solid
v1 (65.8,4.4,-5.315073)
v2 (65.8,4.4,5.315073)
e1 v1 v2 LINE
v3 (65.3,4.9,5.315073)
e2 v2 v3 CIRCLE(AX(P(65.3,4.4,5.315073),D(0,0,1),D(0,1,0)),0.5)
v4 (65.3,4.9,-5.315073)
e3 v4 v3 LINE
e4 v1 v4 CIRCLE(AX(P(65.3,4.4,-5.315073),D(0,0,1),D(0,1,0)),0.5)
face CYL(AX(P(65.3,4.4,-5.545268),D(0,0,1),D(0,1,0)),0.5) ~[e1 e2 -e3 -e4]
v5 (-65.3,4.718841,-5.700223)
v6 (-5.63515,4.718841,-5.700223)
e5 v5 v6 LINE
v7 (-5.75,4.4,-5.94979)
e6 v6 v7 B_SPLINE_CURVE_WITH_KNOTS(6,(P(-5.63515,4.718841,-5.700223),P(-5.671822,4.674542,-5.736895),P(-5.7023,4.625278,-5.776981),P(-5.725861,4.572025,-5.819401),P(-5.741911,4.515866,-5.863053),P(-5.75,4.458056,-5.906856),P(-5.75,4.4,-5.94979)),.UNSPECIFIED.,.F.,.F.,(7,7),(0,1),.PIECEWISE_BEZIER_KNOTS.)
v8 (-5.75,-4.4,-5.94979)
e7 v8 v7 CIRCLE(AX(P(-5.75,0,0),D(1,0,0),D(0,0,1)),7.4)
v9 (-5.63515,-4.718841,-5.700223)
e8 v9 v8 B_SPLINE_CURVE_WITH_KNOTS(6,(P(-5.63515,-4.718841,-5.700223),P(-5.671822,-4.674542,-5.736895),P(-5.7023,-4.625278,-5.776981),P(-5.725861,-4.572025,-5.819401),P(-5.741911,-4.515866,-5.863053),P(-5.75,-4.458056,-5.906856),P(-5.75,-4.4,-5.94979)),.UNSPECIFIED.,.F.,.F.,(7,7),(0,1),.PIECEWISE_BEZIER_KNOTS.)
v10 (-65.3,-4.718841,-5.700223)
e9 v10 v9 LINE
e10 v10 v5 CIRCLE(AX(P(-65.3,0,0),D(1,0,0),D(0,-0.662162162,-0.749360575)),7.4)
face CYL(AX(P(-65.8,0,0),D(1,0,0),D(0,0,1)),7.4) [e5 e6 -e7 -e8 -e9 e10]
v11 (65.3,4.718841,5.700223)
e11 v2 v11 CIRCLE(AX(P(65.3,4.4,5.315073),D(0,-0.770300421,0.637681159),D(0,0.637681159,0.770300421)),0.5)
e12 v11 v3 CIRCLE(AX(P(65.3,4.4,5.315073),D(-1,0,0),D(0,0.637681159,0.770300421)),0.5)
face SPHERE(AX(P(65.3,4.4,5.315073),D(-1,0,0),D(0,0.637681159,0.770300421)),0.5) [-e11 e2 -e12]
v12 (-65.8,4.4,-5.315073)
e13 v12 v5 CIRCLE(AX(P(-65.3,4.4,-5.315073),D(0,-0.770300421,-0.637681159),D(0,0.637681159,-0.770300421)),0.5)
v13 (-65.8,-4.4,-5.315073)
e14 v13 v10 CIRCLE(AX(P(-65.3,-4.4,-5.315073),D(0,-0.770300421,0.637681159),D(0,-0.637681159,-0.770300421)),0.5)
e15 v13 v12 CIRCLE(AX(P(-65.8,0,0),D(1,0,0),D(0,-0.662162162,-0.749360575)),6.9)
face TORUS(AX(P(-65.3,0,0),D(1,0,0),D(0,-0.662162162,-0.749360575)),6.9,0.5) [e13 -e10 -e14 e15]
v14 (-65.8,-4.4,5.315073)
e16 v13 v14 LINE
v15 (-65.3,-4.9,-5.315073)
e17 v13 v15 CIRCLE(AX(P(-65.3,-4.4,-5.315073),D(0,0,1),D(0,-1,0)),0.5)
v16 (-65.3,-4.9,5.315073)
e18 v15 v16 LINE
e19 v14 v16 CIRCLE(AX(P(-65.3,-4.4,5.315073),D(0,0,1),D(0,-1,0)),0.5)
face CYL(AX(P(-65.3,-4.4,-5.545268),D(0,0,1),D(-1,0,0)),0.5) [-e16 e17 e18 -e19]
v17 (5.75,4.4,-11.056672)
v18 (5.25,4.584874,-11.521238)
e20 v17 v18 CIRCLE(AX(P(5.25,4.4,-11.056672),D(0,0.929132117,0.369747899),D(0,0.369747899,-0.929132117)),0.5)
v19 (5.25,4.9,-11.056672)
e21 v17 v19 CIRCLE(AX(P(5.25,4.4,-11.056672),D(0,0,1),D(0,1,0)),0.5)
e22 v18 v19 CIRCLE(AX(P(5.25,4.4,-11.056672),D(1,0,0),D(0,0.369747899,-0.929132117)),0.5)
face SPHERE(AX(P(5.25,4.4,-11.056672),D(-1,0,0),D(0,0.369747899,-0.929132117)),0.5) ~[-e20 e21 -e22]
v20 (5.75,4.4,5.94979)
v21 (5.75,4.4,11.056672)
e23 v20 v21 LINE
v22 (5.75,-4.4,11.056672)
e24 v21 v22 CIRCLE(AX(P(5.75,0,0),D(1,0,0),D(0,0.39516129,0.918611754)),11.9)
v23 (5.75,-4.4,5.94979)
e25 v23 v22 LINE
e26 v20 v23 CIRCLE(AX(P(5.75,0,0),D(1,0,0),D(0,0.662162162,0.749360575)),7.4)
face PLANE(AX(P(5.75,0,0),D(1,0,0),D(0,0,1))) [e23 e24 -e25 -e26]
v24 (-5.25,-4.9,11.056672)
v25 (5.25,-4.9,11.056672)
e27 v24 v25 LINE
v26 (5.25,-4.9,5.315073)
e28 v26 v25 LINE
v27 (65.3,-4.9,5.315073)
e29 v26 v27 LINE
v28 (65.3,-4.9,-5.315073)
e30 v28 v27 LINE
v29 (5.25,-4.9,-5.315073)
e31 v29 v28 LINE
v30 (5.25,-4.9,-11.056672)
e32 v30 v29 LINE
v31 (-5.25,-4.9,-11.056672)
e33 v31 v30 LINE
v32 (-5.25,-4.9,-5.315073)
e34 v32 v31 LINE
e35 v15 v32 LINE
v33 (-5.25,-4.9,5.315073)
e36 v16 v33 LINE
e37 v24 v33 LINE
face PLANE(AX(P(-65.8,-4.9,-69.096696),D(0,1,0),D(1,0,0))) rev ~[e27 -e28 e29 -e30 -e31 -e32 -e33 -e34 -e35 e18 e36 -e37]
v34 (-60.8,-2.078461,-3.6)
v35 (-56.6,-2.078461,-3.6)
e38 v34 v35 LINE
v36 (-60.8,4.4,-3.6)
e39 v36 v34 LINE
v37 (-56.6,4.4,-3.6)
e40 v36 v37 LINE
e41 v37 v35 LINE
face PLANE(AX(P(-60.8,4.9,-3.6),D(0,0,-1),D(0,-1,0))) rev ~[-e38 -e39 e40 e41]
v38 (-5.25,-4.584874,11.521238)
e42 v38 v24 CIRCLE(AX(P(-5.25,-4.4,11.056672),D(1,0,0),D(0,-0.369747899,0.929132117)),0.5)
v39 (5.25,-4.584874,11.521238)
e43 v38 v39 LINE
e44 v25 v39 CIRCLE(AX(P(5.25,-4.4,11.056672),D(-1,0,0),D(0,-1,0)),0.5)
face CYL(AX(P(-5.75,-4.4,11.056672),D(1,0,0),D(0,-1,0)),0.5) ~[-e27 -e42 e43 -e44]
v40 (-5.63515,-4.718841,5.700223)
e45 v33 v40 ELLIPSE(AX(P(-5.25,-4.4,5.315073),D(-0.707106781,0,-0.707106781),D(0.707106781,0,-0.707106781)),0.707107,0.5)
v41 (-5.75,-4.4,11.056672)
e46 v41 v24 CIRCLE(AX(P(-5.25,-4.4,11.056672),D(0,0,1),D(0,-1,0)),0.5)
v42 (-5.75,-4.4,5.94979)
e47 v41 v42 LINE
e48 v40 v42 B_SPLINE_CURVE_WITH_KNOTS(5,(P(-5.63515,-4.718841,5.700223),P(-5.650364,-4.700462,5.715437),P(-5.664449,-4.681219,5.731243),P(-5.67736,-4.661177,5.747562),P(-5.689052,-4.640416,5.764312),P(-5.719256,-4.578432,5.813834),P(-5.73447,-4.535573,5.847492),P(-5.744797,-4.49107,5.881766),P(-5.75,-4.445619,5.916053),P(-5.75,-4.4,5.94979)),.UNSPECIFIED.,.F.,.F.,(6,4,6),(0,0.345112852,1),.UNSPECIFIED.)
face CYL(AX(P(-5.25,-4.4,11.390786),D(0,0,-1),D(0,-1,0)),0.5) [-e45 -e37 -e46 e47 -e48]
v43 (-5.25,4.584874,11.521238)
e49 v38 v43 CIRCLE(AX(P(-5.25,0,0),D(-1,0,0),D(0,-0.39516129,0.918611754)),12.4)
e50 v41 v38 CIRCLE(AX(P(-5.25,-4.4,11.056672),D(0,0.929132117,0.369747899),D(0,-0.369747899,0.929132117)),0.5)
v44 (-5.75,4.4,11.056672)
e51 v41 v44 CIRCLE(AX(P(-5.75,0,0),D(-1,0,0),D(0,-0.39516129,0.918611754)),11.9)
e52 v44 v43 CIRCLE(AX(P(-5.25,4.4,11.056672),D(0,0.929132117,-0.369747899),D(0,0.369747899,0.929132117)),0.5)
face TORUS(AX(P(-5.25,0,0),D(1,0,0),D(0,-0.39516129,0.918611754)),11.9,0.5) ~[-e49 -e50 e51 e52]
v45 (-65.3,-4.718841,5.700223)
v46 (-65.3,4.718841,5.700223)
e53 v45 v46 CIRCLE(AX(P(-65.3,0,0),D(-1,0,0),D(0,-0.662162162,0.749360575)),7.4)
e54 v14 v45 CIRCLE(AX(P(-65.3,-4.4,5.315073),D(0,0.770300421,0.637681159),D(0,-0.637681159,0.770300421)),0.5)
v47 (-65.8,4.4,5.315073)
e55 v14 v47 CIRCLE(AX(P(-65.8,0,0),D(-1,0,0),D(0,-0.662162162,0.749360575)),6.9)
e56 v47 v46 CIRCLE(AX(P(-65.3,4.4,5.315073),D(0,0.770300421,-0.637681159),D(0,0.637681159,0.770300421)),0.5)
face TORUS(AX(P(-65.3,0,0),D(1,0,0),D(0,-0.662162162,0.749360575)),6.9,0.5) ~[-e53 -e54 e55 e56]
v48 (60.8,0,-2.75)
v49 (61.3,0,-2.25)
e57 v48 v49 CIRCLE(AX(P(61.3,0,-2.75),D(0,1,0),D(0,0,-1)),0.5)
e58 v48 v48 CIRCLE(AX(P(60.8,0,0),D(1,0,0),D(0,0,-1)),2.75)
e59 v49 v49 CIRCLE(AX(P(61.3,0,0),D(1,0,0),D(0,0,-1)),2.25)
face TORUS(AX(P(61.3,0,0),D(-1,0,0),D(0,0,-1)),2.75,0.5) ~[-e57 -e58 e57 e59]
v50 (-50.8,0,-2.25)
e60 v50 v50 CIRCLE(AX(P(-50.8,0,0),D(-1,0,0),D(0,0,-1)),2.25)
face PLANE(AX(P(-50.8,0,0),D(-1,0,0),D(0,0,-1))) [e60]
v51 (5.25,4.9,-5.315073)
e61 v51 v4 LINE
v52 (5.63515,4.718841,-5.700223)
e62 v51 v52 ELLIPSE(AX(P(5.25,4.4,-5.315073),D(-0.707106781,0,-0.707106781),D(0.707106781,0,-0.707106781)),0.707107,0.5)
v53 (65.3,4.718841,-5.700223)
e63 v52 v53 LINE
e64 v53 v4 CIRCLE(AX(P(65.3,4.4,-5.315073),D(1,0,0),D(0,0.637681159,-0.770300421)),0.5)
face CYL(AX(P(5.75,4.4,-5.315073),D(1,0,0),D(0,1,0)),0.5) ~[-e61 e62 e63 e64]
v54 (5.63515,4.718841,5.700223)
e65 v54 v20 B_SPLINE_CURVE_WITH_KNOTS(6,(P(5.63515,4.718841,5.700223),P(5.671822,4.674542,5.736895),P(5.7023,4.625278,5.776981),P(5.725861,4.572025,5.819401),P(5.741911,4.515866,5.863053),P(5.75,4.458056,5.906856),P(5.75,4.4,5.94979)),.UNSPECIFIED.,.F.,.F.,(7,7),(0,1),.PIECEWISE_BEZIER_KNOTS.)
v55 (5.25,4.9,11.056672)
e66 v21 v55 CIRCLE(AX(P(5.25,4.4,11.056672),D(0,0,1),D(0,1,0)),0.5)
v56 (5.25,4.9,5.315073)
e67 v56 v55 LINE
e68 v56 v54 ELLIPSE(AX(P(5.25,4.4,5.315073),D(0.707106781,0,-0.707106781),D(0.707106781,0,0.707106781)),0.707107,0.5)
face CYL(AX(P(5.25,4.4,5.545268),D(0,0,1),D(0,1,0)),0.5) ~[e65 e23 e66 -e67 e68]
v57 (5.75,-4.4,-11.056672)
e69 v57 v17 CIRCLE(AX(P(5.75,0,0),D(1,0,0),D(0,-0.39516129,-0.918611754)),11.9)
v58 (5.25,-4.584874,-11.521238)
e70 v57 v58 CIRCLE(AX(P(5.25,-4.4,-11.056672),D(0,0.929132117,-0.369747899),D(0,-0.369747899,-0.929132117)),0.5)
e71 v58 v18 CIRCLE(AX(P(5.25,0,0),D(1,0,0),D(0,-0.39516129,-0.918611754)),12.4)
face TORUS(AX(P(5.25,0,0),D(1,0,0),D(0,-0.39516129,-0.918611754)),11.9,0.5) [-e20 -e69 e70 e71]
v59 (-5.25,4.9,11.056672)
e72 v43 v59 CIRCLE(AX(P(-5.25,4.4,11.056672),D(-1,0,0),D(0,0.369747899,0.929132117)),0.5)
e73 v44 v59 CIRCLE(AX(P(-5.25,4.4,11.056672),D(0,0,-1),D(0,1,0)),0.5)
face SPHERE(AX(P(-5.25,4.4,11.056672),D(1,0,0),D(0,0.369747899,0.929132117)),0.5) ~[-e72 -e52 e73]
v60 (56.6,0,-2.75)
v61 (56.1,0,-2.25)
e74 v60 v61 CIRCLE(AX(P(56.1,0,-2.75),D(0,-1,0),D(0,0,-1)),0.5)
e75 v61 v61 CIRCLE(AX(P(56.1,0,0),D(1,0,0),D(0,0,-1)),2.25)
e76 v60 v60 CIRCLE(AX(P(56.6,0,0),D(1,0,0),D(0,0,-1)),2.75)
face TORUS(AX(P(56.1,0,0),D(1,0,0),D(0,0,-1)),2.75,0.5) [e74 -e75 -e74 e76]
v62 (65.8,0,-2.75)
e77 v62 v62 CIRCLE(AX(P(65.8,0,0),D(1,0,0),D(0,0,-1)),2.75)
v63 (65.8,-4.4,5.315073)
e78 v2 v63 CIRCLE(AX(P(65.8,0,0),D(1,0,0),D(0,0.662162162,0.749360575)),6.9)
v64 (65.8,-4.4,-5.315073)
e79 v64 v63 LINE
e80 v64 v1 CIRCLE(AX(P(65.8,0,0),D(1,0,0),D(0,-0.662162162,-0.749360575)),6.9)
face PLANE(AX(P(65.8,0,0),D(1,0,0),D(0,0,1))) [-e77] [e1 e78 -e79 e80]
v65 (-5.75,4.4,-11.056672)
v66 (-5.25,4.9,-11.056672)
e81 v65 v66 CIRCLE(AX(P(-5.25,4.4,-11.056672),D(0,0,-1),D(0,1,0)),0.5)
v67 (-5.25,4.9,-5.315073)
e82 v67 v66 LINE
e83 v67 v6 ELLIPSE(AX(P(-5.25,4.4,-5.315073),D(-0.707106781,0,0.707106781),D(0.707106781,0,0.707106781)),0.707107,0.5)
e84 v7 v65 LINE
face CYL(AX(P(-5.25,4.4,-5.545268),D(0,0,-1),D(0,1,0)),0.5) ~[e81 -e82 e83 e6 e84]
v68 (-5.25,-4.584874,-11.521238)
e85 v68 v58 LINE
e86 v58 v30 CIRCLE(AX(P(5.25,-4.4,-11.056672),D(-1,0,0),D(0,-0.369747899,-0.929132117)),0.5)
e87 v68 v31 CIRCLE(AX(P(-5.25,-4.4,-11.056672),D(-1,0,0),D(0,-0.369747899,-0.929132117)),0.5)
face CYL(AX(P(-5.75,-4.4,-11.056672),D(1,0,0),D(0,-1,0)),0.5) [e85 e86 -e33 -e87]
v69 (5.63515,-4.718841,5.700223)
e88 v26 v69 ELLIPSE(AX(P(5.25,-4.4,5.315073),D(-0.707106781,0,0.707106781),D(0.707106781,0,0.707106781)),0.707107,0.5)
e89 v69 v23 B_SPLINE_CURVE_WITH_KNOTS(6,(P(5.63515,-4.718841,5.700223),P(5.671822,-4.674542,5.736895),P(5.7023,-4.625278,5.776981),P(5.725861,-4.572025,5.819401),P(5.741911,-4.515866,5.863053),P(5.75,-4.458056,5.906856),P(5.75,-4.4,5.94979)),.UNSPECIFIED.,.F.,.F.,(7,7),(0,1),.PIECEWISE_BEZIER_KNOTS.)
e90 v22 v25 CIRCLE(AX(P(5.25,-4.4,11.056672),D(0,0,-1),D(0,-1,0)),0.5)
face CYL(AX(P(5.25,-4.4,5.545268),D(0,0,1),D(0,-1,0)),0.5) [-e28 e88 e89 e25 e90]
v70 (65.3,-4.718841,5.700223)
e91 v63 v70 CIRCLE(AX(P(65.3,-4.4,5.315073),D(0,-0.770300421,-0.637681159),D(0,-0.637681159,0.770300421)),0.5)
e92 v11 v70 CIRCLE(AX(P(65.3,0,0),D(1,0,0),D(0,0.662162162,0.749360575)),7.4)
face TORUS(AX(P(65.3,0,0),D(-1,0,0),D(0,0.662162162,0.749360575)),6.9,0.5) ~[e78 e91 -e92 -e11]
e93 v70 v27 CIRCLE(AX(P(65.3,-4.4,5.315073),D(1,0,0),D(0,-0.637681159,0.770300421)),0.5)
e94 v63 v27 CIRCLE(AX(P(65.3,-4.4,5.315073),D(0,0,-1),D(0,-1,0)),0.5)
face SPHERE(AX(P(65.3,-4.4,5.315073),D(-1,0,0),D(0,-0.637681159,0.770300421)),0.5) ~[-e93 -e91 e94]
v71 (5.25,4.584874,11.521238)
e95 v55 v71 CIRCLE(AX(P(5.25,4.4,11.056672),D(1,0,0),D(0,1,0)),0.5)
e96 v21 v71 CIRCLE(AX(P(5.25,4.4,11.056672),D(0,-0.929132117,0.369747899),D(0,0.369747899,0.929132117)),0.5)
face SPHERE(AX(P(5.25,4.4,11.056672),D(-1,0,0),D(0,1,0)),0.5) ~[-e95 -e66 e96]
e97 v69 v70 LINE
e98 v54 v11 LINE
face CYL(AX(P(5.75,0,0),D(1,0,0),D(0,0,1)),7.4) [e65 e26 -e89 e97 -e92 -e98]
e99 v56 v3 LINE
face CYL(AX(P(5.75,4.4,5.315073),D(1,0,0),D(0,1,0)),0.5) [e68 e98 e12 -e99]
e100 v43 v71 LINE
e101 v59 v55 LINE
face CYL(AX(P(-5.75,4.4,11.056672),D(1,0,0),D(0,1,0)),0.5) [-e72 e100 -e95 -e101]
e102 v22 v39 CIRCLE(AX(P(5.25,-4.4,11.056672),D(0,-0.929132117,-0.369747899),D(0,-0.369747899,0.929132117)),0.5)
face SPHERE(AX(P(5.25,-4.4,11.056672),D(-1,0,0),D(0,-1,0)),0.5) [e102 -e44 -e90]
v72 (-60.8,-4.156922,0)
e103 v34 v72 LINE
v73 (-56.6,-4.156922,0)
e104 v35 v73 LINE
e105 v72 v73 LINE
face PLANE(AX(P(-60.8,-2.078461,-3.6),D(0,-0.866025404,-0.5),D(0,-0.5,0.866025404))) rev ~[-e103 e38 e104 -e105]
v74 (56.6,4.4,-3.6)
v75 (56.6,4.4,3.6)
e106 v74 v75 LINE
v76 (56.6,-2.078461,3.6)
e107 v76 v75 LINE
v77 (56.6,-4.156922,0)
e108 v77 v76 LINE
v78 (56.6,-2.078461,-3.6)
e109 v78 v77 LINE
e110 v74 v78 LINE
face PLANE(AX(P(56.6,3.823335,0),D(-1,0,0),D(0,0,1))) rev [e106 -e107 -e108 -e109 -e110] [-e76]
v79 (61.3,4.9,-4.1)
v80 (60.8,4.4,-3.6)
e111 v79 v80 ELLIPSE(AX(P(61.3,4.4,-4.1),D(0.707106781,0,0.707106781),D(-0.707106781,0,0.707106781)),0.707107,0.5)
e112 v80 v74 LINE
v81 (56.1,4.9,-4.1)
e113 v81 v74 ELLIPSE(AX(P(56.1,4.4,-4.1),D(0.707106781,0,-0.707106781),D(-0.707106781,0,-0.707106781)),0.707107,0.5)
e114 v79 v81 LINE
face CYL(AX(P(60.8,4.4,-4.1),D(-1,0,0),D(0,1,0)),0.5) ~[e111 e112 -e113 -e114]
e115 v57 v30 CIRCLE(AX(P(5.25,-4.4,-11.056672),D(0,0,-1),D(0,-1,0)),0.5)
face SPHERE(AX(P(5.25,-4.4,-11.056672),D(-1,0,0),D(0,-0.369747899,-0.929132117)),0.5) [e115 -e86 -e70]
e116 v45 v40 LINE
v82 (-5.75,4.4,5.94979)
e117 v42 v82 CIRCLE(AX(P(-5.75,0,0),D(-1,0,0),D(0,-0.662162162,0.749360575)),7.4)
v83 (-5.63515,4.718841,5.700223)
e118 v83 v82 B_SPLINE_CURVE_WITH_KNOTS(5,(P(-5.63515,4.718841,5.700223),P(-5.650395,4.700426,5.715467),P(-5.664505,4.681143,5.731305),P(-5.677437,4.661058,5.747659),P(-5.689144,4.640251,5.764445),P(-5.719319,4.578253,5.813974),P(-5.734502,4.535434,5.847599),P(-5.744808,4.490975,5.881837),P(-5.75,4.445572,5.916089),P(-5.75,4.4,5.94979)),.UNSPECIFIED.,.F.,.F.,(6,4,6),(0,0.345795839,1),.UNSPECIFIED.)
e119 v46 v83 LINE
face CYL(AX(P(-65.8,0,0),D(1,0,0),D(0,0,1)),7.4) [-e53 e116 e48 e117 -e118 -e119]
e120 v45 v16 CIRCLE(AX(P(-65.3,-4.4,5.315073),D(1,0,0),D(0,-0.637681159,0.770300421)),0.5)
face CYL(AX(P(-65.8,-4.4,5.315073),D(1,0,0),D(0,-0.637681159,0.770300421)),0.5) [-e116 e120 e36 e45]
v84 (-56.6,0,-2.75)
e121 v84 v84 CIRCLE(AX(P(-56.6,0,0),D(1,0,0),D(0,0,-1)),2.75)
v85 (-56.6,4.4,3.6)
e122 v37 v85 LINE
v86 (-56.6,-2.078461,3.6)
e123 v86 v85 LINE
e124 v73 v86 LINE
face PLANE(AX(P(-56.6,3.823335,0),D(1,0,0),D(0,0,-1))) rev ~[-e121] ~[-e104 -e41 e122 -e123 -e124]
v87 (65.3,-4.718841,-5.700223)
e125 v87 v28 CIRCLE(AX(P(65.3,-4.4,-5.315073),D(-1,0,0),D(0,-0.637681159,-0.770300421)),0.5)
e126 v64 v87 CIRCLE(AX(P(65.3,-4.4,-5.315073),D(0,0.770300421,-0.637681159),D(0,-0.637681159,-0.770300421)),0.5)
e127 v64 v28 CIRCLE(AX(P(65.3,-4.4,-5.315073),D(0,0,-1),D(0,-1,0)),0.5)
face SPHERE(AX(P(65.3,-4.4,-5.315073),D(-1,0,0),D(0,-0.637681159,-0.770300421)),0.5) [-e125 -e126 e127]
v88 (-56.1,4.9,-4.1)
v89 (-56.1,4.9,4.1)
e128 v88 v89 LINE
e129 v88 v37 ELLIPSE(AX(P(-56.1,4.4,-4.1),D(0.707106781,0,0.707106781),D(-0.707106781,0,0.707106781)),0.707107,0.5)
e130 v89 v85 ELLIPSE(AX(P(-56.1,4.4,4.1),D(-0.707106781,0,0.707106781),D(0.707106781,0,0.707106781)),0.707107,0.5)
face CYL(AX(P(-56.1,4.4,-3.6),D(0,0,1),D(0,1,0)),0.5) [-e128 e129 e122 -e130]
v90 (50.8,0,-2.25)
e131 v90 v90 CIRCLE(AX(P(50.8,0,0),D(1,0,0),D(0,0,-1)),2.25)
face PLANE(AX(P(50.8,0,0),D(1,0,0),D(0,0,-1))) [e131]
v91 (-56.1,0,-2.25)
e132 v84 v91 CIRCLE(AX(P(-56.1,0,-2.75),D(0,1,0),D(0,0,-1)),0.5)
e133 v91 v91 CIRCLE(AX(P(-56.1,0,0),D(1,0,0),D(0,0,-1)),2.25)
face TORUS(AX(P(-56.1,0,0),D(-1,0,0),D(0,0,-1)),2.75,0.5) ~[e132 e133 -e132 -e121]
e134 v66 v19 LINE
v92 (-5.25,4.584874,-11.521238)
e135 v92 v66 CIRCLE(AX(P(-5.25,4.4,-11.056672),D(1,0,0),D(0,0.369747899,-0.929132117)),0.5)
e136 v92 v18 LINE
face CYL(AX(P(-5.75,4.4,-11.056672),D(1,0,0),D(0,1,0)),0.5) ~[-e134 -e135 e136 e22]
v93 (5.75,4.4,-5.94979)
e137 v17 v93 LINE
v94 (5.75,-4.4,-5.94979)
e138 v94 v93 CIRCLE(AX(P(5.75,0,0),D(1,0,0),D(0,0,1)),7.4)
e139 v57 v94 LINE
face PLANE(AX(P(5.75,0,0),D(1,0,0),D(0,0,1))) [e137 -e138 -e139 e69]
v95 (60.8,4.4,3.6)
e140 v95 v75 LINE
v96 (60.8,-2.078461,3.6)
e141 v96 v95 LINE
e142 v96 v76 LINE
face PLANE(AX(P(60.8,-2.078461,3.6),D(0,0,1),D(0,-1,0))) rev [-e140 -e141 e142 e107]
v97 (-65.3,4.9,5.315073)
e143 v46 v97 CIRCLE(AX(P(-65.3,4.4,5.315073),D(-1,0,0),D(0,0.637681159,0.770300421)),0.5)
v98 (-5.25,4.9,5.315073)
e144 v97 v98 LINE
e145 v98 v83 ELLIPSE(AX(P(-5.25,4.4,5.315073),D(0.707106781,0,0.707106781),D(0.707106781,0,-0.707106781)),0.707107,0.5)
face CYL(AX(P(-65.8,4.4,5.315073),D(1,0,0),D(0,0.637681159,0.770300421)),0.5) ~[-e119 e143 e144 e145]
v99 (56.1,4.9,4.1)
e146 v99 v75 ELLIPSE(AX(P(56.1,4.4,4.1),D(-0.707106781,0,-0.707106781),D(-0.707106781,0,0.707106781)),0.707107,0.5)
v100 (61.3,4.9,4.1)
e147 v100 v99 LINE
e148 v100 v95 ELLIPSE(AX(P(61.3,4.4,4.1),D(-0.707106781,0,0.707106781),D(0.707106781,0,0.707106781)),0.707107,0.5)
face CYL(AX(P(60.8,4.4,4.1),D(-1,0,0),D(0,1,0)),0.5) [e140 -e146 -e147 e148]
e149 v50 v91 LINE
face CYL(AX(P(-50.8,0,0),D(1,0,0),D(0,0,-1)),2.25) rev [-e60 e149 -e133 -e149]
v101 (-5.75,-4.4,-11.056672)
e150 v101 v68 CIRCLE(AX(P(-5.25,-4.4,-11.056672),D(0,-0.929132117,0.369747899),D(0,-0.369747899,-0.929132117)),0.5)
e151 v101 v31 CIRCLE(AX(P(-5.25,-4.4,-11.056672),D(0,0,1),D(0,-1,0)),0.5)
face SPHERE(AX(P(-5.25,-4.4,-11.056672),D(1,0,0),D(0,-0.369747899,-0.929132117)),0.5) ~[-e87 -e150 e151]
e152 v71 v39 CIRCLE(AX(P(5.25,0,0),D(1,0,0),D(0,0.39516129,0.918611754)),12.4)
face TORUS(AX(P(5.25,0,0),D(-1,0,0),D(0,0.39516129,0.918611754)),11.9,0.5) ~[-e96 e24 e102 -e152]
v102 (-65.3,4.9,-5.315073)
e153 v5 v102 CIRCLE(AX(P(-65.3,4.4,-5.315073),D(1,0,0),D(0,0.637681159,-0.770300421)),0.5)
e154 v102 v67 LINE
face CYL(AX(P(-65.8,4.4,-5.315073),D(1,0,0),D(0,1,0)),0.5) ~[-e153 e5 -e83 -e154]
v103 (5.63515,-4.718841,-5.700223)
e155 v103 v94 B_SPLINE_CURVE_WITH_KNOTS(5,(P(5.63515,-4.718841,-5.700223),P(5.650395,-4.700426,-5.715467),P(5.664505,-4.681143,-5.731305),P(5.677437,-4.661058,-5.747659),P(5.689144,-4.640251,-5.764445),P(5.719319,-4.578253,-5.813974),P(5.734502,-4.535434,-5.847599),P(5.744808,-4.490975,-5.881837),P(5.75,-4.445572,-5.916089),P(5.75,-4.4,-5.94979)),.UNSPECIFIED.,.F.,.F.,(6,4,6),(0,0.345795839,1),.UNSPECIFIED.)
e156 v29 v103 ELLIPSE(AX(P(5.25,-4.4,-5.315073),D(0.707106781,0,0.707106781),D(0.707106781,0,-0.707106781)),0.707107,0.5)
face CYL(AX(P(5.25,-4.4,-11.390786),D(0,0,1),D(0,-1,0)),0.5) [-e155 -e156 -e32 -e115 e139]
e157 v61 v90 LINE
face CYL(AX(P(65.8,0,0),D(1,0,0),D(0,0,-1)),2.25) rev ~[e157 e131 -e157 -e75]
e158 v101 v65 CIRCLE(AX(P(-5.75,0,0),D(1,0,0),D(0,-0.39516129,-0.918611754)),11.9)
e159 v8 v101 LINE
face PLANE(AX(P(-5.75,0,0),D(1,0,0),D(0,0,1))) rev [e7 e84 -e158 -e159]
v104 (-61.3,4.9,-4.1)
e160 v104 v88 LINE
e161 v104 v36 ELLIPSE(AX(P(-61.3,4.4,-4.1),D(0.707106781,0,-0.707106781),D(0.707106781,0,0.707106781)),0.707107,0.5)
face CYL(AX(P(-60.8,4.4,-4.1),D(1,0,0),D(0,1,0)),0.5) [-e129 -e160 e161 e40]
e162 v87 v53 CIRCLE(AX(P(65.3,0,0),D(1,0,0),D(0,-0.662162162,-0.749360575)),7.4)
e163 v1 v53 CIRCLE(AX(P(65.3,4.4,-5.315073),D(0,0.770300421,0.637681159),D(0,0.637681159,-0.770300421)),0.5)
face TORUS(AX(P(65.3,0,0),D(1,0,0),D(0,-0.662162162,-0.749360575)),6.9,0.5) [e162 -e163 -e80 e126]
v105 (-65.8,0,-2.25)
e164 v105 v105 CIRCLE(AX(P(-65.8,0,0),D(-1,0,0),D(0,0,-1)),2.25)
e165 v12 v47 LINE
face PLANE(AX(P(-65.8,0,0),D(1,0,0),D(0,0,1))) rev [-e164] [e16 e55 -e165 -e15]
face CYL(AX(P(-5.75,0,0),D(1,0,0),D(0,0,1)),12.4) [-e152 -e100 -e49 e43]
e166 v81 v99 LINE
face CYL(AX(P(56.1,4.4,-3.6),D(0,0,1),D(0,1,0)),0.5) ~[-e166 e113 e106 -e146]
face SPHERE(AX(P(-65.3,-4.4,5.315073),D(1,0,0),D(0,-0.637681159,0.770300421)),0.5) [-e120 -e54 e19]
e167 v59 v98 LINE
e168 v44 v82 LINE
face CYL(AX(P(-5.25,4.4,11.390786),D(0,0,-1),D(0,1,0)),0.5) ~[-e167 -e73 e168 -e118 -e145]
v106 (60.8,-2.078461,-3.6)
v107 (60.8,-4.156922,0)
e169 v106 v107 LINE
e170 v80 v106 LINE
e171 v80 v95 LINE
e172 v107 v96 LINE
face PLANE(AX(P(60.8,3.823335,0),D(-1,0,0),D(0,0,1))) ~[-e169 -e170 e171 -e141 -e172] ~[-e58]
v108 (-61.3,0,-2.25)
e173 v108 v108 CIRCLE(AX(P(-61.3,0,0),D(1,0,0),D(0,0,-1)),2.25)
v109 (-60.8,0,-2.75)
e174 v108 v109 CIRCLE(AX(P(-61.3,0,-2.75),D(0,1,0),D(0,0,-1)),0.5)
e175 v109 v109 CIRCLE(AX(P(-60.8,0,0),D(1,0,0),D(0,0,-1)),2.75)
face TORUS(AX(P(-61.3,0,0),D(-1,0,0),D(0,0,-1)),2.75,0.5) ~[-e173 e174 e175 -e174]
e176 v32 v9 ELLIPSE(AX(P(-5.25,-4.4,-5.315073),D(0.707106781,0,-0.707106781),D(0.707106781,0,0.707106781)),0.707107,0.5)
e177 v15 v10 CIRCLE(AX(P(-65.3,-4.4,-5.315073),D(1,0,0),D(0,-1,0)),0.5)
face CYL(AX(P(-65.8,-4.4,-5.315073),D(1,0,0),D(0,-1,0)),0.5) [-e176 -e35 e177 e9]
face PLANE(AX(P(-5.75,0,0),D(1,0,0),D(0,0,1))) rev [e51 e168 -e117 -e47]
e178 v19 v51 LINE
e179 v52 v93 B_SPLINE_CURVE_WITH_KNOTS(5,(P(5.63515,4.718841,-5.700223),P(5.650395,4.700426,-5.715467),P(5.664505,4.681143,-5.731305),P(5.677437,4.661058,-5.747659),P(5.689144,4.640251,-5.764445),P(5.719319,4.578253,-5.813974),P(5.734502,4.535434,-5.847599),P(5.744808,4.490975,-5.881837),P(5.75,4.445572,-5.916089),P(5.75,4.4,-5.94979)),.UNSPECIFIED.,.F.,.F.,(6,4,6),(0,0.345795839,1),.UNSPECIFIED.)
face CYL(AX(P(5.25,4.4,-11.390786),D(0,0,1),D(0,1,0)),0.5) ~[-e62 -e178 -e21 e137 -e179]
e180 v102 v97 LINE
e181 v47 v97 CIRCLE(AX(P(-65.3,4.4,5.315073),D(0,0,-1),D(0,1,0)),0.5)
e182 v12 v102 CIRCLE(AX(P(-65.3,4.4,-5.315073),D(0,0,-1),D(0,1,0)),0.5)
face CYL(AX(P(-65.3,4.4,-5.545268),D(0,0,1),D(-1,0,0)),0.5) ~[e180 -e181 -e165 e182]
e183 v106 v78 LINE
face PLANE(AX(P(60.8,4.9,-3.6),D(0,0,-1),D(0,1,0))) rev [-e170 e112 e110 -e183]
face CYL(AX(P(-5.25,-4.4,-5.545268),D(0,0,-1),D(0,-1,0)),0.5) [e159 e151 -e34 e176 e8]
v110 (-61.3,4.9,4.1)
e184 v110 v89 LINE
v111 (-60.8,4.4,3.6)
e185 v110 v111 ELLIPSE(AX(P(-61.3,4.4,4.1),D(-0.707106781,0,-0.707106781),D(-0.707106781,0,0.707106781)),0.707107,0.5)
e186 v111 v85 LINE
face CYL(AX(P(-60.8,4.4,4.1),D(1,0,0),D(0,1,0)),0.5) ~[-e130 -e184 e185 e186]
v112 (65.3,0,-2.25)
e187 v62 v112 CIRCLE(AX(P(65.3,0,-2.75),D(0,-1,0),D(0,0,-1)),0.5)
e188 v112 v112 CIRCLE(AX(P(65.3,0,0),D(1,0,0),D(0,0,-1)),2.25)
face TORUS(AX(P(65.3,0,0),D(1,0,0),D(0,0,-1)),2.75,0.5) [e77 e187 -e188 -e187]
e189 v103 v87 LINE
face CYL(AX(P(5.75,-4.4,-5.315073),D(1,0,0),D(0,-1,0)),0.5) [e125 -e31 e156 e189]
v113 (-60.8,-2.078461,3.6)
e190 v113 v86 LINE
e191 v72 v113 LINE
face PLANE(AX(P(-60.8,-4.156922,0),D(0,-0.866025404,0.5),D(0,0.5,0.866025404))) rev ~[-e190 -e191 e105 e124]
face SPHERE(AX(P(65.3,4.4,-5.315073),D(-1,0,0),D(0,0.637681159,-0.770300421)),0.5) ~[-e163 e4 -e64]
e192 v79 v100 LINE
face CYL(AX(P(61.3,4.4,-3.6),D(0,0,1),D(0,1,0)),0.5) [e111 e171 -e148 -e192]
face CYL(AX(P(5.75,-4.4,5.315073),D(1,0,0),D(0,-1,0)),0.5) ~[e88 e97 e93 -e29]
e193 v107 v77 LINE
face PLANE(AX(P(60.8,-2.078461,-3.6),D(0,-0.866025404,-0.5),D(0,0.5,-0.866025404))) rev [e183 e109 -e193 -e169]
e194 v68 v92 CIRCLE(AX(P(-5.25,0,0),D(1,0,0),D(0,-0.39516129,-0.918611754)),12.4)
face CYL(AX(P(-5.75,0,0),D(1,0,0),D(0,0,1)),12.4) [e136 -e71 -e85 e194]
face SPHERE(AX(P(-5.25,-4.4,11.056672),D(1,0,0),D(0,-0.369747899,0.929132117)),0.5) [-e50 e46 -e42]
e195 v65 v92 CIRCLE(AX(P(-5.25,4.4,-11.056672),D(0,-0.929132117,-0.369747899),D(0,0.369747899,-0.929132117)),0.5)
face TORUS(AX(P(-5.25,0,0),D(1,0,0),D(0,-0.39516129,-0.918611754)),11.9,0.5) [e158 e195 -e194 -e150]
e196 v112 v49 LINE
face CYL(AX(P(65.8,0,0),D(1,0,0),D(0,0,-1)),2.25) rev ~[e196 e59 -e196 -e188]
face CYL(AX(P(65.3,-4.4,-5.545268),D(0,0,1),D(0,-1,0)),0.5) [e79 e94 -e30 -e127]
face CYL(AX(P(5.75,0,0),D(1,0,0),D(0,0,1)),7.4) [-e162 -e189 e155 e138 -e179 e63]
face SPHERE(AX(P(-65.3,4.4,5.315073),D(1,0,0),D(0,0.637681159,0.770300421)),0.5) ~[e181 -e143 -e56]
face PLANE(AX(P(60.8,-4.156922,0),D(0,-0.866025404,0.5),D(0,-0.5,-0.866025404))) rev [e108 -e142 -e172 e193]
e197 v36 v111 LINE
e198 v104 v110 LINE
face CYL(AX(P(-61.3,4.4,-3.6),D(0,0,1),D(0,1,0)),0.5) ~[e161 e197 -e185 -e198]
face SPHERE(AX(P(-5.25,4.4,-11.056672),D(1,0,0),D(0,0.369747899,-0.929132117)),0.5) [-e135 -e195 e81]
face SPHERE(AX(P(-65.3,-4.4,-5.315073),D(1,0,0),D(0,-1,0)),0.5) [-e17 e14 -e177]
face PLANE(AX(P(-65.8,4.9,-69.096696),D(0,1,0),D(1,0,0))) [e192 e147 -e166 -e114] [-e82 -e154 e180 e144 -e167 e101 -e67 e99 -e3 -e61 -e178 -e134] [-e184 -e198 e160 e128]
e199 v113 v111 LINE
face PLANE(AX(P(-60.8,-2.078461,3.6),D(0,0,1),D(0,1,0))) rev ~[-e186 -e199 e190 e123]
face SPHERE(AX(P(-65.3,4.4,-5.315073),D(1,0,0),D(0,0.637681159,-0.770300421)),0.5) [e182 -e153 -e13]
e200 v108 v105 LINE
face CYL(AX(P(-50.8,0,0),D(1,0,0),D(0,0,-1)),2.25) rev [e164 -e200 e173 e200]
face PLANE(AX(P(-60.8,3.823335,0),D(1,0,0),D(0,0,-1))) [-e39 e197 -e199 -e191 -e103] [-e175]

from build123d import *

# Parameters (mm, degrees)
CUT_EXTRUDE1_DEPTH      = 69.096695955
CUT_EXTRUDE1_DEPTH_BACK = 69.096695955
SKETCH2_W               = 131.6
SKETCH2_H               = 15.1
SKETCH3_R               = 2.25
CUT_EXTRUDE2_DEPTH      = 15
CUT_EXTRUDE3_START      = -15
SKETCH4_R               = 2.25
CUT_EXTRUDE3_DEPTH      = 15
CUT_EXTRUDE4_DEPTH      = 4.2
FILLET1_R               = 0.5


with BuildPart() as part:
    # Sketch1 → Revolve1 (revolve)
    with BuildSketch(Plane(origin=(0, 0, 0), x_dir=(1, 0, 0), z_dir=(0, 1, 0)), mode=Mode.PRIVATE) as revolve1_sk:
        Polygon((-65.8, 0), (-65.8, 7.4), (-5.75, 7.4), (-5.75, 12.4), (5.75, 12.4), (5.75, 7.4), (65.8, 7.4), (65.8, 0), align=None)
    revolve(revolve1_sk.sketch.rotate(Axis((-104.544352148, 0, 0), (1, 0, 0)), 180), axis=Axis((-104.544352148, 0, 0), (1, 0, 0)))

    # Sketch2 → Cut-Extrude1 (cut, two sides: drawn at the far end of the back side and taken through both)
    with BuildSketch(Plane.XY.offset(-CUT_EXTRUDE1_DEPTH_BACK)):
        with Locations((0, 12.45)):
            Rectangle(SKETCH2_W, SKETCH2_H)
        with Locations((0, -12.45)):
            Rectangle(SKETCH2_W, SKETCH2_H)
    extrude(amount=CUT_EXTRUDE1_DEPTH + CUT_EXTRUDE1_DEPTH_BACK, mode=Mode.SUBTRACT)

    # Sketch3 → Cut-Extrude2 (cut)
    with BuildSketch(Plane(origin=(65.8, 0, 0), x_dir=(0, 0, -1), z_dir=(1, 0, 0))):
        Circle(SKETCH3_R)
    extrude(amount=-CUT_EXTRUDE2_DEPTH, mode=Mode.SUBTRACT)

    # Sketch4 → Cut-Extrude3 (cut)
    with BuildSketch(Plane.ZY.offset(65.8).offset(CUT_EXTRUDE3_START)):
        with Locations(Location((0, 0, 0), (0, 0, 180))):
            Circle(SKETCH4_R)
    extrude(amount=CUT_EXTRUDE3_DEPTH, mode=Mode.SUBTRACT)

    # Sketch5 → Cut-Extrude4 (cut)
    with BuildSketch(Plane.ZY.offset(60.8)):
        Polygon((3.6, 4.9), (3.6, 2.078460969), (0, 4.156921938), (-3.6, 2.078460969), (-3.6, 4.9), align=None)
        Polygon((-3.6, 2.078460969), (-3.6, -2.078460969), (0, -4.156921938), (3.6, -2.078460969), (3.6, 2.078460969), (0, 4.156921938), align=None)
    cut_extrude4 = extrude(amount=-CUT_EXTRUDE4_DEPTH, mode=Mode.SUBTRACT)

    # Mirror1: Cut-Extrude4 across plane
    add(cut_extrude4.mirror(Plane(origin=(0, 0, 0), x_dir=(0, 0, 1), z_dir=(1, 0, 0))), mode=Mode.SUBTRACT)

    # Fillet1
    fillet1_edges = [part.edges().sort_by_distance(p)[0] for p in [
        (60.8, 4.9, 0),
        (60.8, 0, 2.25),
        (58.7, 4.9, -3.6),
        (56.6, 4.9, 0),
        (58.7, 4.9, 3.6),
        (56.6, 0, 2.25),
        (-5.75, 0, -12.4),
        (-5.75, 0, 12.4),
        (-5.75, -4.9, 8.468027002),
        (-5.75, -4.9, -8.468027002),
        (-5.75, 4.9, 8.468027002),
        (-5.75, 4.9, -8.468027002),
        (5.75, 0, -12.4),
        (5.75, 0, 12.4),
        (65.8, 0, -7.4),
        (65.8, 0, 7.4),
        (-65.8, 0, -7.4),
        (-65.8, 0, 7.4),
        (-65.8, 4.9, 0),
        (65.8, 4.9, 0),
        (-35.775, 4.9, -5.545268253),
        (35.775, 4.9, -5.545268253),
        (5.75, 4.9, -8.468027002),
        (0, 4.9, -11.39078575),
        (-35.775, 4.9, 5.545268253),
        (0, 4.9, 11.39078575),
        (5.75, 4.9, 8.468027002),
        (35.775, 4.9, 5.545268253),
        (65.8, -4.9, 0),
        (-35.775, -4.9, -5.545268253),
        (-65.8, -4.9, 0),
        (-35.775, -4.9, 5.545268253),
        (0, -4.9, 11.39078575),
        (5.75, -4.9, 8.468027002),
        (35.775, -4.9, 5.545268253),
        (35.775, -4.9, -5.545268253),
        (5.75, -4.9, -8.468027002),
        (0, -4.9, -11.39078575),
        (65.8, 0, 2.25),
        (-56.6, 4.9, 0),
        (-60.8, 0, 2.25),
        (-60.8, 4.9, 0),
        (-58.7, 4.9, -3.6),
        (-58.7, 4.9, 3.6),
        (-56.6, 0, 2.25),
    ]]
    fillet(fillet1_edges, radius=FILLET1_R)


solid = part.part
